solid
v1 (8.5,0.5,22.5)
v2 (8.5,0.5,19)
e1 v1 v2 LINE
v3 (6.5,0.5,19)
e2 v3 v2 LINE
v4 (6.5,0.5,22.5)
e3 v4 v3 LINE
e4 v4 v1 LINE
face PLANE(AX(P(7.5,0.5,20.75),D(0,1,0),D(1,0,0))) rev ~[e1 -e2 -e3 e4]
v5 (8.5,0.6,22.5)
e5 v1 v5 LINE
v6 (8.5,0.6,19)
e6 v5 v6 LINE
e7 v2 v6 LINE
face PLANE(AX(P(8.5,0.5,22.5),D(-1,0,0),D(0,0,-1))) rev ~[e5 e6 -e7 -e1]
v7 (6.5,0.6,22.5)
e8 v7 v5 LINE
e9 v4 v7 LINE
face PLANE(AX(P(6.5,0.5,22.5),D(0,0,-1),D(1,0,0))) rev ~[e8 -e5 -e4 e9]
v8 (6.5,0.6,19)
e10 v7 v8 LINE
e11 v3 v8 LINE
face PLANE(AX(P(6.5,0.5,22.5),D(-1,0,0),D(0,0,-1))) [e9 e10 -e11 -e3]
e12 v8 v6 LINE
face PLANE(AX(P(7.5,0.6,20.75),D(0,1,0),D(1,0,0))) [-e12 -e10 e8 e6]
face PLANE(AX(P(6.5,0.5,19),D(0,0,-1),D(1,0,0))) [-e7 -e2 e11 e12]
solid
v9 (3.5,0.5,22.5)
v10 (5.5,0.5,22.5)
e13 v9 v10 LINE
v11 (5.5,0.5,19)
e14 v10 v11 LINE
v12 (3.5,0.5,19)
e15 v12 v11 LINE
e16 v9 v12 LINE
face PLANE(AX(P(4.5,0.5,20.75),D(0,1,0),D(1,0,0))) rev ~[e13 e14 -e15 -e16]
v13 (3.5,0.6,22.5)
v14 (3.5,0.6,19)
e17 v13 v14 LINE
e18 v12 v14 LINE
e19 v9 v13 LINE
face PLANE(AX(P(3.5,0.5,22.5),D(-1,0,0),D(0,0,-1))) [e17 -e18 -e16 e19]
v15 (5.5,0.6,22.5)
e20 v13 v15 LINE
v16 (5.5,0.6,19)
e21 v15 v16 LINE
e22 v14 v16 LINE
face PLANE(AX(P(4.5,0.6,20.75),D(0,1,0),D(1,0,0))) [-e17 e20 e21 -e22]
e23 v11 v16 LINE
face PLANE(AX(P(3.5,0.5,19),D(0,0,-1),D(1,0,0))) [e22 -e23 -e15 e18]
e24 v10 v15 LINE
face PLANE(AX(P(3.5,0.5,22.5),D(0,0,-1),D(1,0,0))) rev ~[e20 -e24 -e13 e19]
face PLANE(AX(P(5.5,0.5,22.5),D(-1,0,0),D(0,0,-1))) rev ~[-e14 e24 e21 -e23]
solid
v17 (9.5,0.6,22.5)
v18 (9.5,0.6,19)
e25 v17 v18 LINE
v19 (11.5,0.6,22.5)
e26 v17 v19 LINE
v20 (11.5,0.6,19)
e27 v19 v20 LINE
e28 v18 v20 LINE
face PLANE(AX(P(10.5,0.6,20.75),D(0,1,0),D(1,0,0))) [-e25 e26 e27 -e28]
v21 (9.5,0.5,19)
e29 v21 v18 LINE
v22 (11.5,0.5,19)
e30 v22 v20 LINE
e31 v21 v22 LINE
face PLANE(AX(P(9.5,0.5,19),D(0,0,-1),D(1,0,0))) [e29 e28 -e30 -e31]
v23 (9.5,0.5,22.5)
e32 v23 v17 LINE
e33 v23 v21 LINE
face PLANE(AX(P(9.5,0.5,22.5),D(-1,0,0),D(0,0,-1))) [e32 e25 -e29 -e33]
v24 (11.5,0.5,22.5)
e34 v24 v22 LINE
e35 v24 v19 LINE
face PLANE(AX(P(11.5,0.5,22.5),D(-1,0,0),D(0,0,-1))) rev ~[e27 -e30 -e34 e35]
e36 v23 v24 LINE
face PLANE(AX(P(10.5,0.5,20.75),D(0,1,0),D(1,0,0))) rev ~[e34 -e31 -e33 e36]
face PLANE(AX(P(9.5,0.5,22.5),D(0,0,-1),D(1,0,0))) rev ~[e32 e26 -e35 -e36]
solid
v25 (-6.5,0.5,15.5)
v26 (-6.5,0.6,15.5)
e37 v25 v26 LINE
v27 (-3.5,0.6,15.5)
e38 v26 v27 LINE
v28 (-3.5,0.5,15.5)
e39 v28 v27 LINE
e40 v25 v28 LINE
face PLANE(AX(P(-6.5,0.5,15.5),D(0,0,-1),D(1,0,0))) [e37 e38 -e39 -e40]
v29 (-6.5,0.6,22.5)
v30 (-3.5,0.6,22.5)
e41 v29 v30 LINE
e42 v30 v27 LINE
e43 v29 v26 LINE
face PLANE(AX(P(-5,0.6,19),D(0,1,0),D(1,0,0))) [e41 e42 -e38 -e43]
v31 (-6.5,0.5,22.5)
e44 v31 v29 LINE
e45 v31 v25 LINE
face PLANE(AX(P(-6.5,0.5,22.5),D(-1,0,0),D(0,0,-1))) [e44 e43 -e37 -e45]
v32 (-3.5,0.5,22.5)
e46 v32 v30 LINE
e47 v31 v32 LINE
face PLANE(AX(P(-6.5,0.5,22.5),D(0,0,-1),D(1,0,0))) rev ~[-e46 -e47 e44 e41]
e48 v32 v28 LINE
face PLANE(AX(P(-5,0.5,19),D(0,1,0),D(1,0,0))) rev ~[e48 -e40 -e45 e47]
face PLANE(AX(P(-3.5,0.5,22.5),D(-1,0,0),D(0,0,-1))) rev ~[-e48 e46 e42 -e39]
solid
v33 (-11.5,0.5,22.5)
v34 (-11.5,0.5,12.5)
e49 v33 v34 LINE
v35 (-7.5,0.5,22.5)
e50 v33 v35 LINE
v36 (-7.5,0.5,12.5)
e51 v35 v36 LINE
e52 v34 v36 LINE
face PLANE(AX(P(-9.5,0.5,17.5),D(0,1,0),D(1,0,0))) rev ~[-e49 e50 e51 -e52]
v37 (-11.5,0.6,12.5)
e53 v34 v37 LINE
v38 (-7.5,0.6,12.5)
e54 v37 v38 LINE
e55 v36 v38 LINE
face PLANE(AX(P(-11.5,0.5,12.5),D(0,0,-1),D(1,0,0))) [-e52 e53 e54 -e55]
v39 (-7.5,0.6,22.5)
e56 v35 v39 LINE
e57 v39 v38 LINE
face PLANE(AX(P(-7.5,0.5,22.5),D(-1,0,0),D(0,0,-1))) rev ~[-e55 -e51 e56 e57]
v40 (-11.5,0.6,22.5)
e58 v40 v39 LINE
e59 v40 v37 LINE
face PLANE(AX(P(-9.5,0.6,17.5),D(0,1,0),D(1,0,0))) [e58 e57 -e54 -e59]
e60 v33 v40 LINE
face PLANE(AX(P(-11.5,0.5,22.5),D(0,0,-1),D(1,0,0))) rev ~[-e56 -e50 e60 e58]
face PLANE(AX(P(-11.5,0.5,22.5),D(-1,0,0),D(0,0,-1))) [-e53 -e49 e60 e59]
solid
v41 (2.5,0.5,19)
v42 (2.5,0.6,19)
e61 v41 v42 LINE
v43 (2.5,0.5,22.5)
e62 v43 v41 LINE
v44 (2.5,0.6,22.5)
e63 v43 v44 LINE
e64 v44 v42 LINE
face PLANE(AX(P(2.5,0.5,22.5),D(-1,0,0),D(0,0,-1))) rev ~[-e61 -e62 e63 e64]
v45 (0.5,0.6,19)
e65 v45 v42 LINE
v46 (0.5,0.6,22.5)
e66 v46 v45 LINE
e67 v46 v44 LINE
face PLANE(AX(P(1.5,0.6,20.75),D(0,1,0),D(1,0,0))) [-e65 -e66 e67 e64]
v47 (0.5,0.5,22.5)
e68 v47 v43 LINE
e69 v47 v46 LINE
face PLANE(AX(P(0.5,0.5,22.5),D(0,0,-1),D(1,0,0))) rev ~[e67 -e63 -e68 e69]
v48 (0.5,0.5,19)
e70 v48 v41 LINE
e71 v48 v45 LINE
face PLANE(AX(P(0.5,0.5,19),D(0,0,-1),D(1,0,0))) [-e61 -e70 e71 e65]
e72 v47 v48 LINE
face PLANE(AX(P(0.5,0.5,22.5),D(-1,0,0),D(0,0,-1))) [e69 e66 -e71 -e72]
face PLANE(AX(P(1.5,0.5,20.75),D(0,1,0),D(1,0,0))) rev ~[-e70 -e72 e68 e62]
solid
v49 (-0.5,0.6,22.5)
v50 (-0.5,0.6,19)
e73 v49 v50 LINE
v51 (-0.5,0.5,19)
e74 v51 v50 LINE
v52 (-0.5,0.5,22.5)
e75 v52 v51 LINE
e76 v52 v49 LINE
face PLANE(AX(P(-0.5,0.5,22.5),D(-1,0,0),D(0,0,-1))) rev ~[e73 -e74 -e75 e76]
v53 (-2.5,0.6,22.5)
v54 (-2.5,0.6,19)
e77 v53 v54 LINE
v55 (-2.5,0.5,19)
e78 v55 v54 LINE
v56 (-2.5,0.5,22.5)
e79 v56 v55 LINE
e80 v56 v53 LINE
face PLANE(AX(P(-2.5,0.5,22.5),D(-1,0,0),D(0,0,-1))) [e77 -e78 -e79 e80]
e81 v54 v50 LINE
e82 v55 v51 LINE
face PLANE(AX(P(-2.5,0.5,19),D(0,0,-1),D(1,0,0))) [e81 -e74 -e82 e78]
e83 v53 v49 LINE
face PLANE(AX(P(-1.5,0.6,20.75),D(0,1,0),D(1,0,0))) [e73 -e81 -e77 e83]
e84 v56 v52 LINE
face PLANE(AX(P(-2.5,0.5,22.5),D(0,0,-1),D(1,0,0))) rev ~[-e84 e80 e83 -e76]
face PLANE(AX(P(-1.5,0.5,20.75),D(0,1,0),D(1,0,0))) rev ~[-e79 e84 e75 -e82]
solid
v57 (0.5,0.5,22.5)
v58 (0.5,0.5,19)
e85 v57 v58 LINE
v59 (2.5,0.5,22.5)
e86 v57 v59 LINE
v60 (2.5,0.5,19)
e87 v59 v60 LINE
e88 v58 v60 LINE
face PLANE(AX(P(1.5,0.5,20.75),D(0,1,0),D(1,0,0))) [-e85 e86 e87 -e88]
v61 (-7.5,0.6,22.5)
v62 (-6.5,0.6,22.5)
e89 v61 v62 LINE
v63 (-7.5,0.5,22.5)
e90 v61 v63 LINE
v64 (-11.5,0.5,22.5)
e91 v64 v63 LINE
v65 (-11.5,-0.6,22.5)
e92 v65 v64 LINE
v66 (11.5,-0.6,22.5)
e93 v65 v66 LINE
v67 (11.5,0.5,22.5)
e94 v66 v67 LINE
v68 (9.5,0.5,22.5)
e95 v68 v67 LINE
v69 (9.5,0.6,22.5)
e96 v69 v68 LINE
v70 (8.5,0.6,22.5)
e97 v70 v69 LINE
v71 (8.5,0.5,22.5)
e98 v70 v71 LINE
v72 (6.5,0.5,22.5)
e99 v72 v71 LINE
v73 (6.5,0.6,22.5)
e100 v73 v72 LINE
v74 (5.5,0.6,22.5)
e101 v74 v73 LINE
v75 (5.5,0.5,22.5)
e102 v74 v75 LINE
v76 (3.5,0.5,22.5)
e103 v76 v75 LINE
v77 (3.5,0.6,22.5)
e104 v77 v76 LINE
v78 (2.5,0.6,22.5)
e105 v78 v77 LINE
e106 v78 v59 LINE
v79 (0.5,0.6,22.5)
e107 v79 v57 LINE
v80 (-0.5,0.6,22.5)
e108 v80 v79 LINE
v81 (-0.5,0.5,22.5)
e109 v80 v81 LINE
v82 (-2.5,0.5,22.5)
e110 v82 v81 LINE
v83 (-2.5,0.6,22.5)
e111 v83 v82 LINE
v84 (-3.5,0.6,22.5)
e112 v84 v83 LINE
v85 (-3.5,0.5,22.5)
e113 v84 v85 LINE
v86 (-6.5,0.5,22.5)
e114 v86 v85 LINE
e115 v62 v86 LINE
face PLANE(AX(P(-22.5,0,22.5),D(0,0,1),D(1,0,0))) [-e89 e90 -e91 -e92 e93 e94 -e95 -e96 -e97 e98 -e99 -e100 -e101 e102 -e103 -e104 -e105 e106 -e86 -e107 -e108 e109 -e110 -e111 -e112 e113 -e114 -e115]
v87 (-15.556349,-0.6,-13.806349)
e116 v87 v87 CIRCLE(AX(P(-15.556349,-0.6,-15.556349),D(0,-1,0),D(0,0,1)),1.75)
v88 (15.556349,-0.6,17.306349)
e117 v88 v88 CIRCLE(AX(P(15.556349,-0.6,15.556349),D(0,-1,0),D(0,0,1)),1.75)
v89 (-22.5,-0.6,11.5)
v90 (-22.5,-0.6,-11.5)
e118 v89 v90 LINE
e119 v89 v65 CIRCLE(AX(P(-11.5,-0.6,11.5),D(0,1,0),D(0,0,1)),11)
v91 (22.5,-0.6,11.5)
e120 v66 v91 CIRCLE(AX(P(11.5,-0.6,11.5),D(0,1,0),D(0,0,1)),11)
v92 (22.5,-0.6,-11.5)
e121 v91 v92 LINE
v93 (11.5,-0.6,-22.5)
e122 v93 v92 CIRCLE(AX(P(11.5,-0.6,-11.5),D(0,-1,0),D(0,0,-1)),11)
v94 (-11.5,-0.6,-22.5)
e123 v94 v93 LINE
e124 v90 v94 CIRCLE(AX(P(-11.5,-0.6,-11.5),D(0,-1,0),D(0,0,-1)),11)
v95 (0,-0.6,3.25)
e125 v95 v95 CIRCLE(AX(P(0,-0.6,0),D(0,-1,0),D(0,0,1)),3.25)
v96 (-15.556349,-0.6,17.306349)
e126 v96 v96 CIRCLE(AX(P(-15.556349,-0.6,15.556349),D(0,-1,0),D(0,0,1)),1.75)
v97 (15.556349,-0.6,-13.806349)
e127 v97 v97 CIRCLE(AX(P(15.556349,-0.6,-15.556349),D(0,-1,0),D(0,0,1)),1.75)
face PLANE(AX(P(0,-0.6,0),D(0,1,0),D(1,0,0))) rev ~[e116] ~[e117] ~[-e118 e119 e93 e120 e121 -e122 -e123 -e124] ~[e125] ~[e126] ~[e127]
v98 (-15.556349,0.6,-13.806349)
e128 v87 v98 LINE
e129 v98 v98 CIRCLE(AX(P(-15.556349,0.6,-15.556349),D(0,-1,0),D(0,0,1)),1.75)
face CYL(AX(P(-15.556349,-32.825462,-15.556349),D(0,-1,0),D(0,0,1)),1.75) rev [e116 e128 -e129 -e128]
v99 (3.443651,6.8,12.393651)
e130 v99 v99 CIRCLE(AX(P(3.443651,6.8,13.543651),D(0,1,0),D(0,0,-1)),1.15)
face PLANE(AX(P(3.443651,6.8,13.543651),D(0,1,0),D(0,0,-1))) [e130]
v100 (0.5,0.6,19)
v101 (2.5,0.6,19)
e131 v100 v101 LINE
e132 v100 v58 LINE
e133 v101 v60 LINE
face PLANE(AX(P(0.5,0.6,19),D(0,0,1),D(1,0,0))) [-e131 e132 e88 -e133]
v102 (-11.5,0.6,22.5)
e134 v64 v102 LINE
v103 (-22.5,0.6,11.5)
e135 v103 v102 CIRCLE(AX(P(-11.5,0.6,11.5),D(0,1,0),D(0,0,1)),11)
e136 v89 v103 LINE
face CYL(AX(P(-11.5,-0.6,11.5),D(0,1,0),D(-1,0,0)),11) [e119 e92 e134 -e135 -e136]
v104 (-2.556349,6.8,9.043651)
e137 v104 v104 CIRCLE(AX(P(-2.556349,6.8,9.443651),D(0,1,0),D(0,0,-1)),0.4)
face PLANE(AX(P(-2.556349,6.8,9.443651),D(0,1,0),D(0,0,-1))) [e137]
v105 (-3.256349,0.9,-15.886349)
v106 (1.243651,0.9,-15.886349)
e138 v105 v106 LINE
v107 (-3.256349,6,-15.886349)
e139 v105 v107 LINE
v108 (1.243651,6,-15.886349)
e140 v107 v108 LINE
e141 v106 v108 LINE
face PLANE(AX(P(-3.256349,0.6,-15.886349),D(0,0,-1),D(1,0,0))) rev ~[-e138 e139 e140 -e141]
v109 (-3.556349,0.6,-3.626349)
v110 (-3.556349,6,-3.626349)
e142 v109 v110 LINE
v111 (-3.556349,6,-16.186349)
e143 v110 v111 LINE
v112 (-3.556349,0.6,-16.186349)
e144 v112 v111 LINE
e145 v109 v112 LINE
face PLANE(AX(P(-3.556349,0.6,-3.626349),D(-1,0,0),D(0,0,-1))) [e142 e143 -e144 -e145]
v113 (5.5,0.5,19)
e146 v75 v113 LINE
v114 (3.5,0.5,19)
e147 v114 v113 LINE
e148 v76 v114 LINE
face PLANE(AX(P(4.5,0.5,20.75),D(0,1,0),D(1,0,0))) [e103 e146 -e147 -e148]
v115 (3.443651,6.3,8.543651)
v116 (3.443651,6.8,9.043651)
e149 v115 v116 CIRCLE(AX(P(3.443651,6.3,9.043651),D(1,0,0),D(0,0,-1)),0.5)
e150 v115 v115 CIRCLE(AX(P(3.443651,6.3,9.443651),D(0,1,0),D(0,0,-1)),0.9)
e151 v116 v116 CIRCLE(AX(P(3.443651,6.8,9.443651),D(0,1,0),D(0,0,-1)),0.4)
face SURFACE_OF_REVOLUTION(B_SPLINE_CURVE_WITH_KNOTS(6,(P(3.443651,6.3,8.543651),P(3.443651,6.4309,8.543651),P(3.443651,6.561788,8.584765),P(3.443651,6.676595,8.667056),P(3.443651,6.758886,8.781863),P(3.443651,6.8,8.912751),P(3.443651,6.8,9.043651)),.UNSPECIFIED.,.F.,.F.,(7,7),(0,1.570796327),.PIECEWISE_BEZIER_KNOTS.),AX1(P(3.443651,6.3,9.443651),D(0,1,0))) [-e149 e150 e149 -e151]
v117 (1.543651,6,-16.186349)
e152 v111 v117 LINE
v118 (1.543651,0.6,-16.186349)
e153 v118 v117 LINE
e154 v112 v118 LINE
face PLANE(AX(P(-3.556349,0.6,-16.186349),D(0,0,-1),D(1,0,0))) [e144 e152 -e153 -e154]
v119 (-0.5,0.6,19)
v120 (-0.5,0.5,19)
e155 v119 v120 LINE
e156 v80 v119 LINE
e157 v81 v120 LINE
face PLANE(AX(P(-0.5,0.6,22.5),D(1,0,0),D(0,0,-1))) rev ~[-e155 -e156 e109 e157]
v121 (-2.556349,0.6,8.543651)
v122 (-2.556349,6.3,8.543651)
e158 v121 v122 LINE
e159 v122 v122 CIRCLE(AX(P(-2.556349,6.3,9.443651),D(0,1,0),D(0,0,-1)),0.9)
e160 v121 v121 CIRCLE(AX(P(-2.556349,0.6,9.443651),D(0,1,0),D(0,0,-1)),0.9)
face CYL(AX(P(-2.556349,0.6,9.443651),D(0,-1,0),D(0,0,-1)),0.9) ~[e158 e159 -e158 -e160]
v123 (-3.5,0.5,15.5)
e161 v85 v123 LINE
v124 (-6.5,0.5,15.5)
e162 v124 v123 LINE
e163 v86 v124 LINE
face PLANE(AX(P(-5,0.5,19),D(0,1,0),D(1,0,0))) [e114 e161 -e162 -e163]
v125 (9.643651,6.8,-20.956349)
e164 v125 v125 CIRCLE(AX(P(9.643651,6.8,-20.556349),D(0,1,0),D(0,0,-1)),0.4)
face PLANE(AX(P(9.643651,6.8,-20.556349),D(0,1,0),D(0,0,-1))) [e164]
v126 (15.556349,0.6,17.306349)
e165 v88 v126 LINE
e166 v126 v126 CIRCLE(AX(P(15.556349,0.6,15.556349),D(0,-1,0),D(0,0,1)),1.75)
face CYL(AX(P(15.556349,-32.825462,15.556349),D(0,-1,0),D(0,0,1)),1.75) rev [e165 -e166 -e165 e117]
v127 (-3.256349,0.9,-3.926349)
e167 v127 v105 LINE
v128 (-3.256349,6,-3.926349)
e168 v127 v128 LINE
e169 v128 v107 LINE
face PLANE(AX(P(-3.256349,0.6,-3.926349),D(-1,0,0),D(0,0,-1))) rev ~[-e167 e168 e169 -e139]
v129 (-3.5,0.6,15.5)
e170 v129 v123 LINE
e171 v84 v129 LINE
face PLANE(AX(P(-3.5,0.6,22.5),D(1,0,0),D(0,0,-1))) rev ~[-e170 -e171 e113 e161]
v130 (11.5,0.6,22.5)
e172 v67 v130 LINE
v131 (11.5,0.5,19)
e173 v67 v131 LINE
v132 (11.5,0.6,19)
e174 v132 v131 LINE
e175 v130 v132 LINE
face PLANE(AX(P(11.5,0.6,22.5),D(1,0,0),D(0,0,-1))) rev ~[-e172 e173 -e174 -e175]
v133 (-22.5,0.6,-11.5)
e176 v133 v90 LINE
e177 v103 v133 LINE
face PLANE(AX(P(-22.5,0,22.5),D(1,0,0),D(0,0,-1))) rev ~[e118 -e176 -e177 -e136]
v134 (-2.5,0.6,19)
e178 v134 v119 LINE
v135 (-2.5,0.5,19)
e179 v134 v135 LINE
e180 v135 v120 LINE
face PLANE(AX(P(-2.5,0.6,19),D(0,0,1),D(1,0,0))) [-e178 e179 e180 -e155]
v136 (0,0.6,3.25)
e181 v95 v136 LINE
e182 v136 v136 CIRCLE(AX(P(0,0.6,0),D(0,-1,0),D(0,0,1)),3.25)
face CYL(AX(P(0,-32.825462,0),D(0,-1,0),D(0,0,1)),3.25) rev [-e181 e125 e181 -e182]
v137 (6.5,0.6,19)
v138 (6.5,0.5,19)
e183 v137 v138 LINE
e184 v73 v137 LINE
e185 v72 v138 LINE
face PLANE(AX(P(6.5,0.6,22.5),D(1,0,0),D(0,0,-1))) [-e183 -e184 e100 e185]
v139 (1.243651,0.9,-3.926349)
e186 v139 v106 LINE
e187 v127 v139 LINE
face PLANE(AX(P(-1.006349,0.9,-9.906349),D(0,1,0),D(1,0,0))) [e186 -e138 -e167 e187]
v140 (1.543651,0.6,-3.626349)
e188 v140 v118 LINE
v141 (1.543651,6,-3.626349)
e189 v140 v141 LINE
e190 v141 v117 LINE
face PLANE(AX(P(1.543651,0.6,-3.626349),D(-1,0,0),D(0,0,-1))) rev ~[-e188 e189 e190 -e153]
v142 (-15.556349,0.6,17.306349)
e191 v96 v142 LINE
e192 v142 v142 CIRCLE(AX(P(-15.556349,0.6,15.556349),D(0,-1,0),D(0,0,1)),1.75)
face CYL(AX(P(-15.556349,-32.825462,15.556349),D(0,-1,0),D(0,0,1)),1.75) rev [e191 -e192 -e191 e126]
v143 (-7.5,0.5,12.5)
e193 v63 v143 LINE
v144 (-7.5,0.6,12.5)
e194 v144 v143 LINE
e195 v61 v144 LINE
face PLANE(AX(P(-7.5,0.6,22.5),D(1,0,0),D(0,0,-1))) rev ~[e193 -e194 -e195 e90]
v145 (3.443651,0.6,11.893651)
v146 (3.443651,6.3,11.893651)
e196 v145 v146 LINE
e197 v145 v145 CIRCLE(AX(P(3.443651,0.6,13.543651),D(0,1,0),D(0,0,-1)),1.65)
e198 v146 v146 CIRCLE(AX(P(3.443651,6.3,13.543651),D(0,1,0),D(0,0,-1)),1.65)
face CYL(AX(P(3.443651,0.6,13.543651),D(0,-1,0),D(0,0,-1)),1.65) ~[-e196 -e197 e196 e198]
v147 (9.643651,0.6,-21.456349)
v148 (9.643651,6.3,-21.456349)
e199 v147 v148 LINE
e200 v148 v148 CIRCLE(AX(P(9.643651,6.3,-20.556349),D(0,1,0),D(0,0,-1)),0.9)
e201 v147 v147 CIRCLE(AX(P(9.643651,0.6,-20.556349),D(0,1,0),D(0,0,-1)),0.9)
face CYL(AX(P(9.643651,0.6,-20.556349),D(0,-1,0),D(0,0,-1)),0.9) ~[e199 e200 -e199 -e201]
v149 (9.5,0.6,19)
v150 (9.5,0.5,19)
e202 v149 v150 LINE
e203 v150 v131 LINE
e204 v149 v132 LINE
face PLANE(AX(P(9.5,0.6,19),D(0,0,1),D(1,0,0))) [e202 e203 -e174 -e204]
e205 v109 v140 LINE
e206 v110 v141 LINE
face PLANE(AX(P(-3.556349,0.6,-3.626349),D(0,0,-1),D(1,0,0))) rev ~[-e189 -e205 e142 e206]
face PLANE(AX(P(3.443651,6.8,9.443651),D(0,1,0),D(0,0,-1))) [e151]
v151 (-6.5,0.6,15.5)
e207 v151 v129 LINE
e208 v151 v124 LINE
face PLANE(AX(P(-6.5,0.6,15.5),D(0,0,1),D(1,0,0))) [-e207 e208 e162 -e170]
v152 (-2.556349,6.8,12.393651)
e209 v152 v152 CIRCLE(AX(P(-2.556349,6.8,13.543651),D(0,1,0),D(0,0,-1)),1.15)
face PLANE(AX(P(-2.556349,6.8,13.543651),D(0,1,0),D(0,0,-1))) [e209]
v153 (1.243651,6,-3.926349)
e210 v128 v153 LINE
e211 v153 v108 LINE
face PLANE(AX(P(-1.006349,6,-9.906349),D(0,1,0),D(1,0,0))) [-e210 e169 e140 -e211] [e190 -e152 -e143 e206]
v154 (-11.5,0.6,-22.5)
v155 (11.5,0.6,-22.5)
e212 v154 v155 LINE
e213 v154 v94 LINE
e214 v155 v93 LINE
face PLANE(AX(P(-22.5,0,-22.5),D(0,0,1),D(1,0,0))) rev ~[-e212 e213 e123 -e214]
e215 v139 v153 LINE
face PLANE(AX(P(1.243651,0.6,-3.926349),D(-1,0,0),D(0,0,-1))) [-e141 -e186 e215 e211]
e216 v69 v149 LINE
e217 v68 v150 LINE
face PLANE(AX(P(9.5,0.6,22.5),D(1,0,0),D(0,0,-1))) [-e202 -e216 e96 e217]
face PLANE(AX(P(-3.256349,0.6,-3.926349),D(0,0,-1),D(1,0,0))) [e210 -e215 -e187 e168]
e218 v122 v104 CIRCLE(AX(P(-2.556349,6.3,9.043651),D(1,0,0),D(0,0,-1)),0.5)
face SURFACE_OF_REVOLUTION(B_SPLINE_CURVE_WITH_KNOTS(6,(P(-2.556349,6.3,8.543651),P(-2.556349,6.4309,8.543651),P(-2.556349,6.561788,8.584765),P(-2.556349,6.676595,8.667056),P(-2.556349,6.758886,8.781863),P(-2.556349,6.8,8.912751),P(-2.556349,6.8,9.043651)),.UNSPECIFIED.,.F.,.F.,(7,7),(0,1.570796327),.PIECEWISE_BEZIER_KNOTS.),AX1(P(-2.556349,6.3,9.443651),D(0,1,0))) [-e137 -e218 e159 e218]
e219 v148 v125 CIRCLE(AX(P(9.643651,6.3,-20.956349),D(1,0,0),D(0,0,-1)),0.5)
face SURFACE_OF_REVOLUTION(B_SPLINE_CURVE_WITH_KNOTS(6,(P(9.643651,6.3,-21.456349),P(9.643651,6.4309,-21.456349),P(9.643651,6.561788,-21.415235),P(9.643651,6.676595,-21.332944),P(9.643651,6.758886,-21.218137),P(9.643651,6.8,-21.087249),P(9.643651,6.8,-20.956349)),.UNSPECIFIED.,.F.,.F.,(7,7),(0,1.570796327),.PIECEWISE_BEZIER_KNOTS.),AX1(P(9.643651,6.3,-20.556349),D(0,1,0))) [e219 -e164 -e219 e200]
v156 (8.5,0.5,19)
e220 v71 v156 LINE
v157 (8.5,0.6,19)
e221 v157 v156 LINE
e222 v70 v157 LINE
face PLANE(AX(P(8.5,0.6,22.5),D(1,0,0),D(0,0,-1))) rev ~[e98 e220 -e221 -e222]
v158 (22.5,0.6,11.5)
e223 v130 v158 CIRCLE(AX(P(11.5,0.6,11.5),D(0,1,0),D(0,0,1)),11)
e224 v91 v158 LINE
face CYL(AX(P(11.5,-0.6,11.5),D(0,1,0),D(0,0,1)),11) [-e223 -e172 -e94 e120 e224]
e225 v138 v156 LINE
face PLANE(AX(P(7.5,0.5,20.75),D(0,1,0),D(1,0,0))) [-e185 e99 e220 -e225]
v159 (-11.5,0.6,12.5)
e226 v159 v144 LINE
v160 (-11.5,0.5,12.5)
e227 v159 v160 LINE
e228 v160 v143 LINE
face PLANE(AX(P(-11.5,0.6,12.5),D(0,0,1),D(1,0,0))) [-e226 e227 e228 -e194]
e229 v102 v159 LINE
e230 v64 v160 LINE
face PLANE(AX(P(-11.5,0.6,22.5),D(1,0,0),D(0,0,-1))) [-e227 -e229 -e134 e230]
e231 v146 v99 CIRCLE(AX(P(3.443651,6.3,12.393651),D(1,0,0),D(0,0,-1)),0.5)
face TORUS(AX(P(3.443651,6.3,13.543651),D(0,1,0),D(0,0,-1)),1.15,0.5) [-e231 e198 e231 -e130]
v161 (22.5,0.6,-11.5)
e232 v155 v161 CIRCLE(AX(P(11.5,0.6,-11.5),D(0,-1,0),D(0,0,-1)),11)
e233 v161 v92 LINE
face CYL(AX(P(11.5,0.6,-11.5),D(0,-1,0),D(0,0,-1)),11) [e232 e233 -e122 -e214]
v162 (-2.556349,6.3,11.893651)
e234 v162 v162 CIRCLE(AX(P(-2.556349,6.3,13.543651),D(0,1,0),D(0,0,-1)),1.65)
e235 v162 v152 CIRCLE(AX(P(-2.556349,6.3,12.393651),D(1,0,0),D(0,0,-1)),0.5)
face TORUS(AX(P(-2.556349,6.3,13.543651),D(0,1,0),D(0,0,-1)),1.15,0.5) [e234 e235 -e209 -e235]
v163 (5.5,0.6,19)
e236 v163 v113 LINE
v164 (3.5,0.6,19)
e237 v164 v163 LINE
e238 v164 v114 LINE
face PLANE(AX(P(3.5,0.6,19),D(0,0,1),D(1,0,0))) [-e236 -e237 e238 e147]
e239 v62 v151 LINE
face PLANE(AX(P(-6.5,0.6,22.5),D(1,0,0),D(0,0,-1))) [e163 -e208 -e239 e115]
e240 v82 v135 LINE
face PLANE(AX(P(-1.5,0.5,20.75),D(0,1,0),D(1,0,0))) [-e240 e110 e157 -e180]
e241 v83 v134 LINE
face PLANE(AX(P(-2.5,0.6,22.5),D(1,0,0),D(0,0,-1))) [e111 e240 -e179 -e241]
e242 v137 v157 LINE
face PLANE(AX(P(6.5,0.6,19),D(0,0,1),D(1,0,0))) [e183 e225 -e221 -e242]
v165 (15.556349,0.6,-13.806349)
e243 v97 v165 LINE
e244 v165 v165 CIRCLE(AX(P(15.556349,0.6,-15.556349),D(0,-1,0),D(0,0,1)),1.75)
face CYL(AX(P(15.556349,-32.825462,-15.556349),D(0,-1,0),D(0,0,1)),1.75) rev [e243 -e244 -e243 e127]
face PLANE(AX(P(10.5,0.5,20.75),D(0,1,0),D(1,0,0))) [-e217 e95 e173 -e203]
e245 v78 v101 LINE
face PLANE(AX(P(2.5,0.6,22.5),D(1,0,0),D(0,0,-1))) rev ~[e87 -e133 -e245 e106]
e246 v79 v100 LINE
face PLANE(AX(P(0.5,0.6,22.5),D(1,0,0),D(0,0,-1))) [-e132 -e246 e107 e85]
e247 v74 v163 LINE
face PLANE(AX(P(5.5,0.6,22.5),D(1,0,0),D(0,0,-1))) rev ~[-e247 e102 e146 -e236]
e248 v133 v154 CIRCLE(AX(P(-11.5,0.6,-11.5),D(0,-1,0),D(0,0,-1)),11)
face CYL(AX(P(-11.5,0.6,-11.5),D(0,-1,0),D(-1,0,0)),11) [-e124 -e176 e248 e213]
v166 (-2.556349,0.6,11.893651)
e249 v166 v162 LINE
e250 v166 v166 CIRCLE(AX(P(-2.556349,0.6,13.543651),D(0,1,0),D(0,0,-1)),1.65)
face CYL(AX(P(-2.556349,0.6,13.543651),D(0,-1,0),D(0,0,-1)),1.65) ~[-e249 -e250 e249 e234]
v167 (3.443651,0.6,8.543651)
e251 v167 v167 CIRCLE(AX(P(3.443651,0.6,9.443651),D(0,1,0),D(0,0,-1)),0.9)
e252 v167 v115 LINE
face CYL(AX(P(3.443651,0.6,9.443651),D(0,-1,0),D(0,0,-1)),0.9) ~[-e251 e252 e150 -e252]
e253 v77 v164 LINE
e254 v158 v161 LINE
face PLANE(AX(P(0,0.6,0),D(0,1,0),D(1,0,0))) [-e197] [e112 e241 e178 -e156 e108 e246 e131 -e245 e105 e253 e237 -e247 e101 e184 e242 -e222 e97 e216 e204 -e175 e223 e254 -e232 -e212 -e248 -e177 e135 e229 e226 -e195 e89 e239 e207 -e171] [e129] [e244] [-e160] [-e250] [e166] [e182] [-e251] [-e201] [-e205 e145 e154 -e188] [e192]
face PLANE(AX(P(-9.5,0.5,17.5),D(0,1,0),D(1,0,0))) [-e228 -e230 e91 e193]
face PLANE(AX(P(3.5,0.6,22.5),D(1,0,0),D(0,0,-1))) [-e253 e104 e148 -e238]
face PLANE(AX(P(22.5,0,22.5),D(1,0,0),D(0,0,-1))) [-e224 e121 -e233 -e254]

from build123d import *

# Parameters (mm, degrees)
SKETCH1_W               = 45
SKETCH1_H               = 45
BOSS_EXTRUDE1_DEPTH     = 0.6
CUT_EXTRUDE1_DEPTH      = 32.825461505
CUT_EXTRUDE1_DEPTH_BACK = 32.825461505
SKETCH3_R               = 3.25
FILLET1_R               = 11
CUT_EXTRUDE2_DEPTH      = 32.825461505
CUT_EXTRUDE2_DEPTH_BACK = 32.825461505
SKETCH5_R               = 1.75
SKETCH6_W               = 5.1
SKETCH6_H               = 12.56
SKETCH6_W_2             = 4.5
SKETCH6_H_2             = 11.96
EXTRUDE_THIN1_DEPTH     = 5.4
SKETCH7_W               = 4.5
SKETCH7_H               = 11.96
BOSS_EXTRUDE2_DEPTH     = 0.3
SKETCH8_W               = 2
SKETCH8_H               = 3.5
SKETCH8_W_2             = 4
SKETCH8_H_2             = 10
SKETCH8_W_3             = 3
SKETCH8_H_3             = 7
CUT_EXTRUDE3_DEPTH      = 0.1
SKETCH9_W               = 2
SKETCH9_H               = 3.5
BOSS_EXTRUDE3_DEPTH     = 0.1
BOSS_EXTRUDE3_2_DEPTH   = 0.1
BOSS_EXTRUDE3_3_DEPTH   = 0.1
BOSS_EXTRUDE3_4_DEPTH   = 0.1
BOSS_EXTRUDE3_5_DEPTH   = 0.1
SKETCH9_W_2             = 3
SKETCH9_H_2             = 7
BOSS_EXTRUDE3_6_DEPTH   = 0.1
SKETCH9_W_3             = 4
SKETCH9_H_3             = 10
BOSS_EXTRUDE3_7_DEPTH   = 0.1
SKETCH10_R              = 0.9
SKETCH10_R_2            = 1.65
BOSS_EXTRUDE4_DEPTH     = 6.2
FILLET2_R               = 0.5


with BuildPart() as part:
    # Sketch1 → Boss-Extrude1 (new, symmetric)
    with BuildSketch(Plane(origin=(0, 0, 0), x_dir=(1, 0, 0), z_dir=(0, 1, 0))):
        Rectangle(SKETCH1_W, SKETCH1_H)
    extrude(amount=BOSS_EXTRUDE1_DEPTH, both=True)

    # Sketch3 → Cut-Extrude1 (cut, two sides: drawn at the far end of the back side and taken through both)
    with BuildSketch(Plane(origin=(0, 0, 0), x_dir=(1, 0, 0), z_dir=(0, 1, 0)).offset(-CUT_EXTRUDE1_DEPTH_BACK)):
        with Locations(Location((0, 0, 0), (0, 0, 270))):
            Circle(SKETCH3_R)
    extrude(amount=CUT_EXTRUDE1_DEPTH + CUT_EXTRUDE1_DEPTH_BACK, mode=Mode.SUBTRACT)

    # Fillet1
    fillet1_edges = [part.edges().sort_by_distance(p)[0] for p in [
        (22.5, 0, 22.5),
        (-22.5, 0, 22.5),
        (-22.5, 0, -22.5),
        (22.5, 0, -22.5),
    ]]
    fillet(fillet1_edges, radius=FILLET1_R)

    # Sketch5 → Cut-Extrude2 (cut, two sides: drawn at the far end of the back side and taken through both)
    with BuildSketch(Plane(origin=(0, 0, 0), x_dir=(1, 0, 0), z_dir=(0, 1, 0)).offset(-CUT_EXTRUDE2_DEPTH_BACK)):
        with Locations(Location((-15.556349186, 15.556349186, 0), (0, 0, 270))):
            Circle(SKETCH5_R)
        with Locations(Location((15.556349186, 15.556349186, 0), (0, 0, 270))):
            Circle(SKETCH5_R)
        with Locations(Location((15.556349186, -15.556349186, 0), (0, 0, 270))):
            Circle(SKETCH5_R)
        with Locations(Location((-15.556349186, -15.556349186, 0), (0, 0, 270))):
            Circle(SKETCH5_R)
    extrude(amount=CUT_EXTRUDE2_DEPTH + CUT_EXTRUDE2_DEPTH_BACK, mode=Mode.SUBTRACT)

    # Sketch6 → Extrude-Thin1 (add)
    with BuildSketch(Plane(origin=(0, 0.6, 0), x_dir=(1, 0, 0), z_dir=(0, 1, 0))):
        with Locations((-1.006349186, 9.906349186)):
            Rectangle(SKETCH6_W, SKETCH6_H)
        with Locations((-1.006349186, 9.906349186)):
            Rectangle(SKETCH6_W_2, SKETCH6_H_2, mode=Mode.SUBTRACT)
    extrude(amount=EXTRUDE_THIN1_DEPTH)

    # Sketch7 → Boss-Extrude2 (add)
    with BuildSketch(Plane(origin=(0, 0.6, 0), x_dir=(1, 0, 0), z_dir=(0, 1, 0))):
        with Locations((-1.006349186, 9.906349186)):
            Rectangle(SKETCH7_W, SKETCH7_H)
    extrude(amount=BOSS_EXTRUDE2_DEPTH)

    # Sketch8 → Cut-Extrude3 (cut)
    with BuildSketch(Plane(origin=(0, 0.6, 0), x_dir=(1, 0, 0), z_dir=(0, 1, 0))):
        with Locations((-1.5, -20.75)):
            Rectangle(SKETCH8_W, SKETCH8_H)
        with Locations((1.5, -20.75)):
            Rectangle(SKETCH8_W, SKETCH8_H)
        with Locations((4.5, -20.75)):
            Rectangle(SKETCH8_W, SKETCH8_H)
        with Locations((7.5, -20.75)):
            Rectangle(SKETCH8_W, SKETCH8_H)
        with Locations((10.5, -20.75)):
            Rectangle(SKETCH8_W, SKETCH8_H)
        with Locations((-9.5, -17.5)):
            Rectangle(SKETCH8_W_2, SKETCH8_H_2)
        with Locations((-5, -19)):
            Rectangle(SKETCH8_W_3, SKETCH8_H_3)
    extrude(amount=-CUT_EXTRUDE3_DEPTH, mode=Mode.SUBTRACT)

    # Sketch10 → Boss-Extrude4 (add)
    with BuildSketch(Plane(origin=(0, 0.6, 0), x_dir=(1, 0, 0), z_dir=(0, 1, 0))):
        with Locations(Location((3.443650814, -9.443650814, 0), (0, 0, 90))):
            Circle(SKETCH10_R)
        with Locations(Location((3.443650814, -13.543650814, 0), (0, 0, 90))):
            Circle(SKETCH10_R_2)
        with Locations(Location((-2.556349186, -13.543650814, 0), (0, 0, 90))):
            Circle(SKETCH10_R_2)
        with Locations(Location((-2.556349186, -9.443650814, 0), (0, 0, 90))):
            Circle(SKETCH10_R)
        with Locations(Location((9.643650814, 20.556349186, 0), (0, 0, 90))):
            Circle(SKETCH10_R)
    extrude(amount=BOSS_EXTRUDE4_DEPTH)

    # Fillet2
    fillet2_edges = [part.edges().sort_by_distance(p)[0] for p in [
        (3.443650814, 6.8, 10.343650814),
        (3.443650814, 6.8, 15.193650814),
        (-2.556349186, 6.8, 15.193650814),
        (-2.556349186, 6.8, 10.343650814),
        (9.643650814, 6.8, -19.656349186),
    ]]
    fillet(fillet2_edges, radius=FILLET2_R)


with BuildPart() as body_2:
    # Sketch9 → Boss-Extrude3 (new body)
    with BuildSketch(Plane(origin=(0, 0.5, 0), x_dir=(1, 0, 0), z_dir=(0, 1, 0))):
        with Locations((10.5, -20.75)):
            Rectangle(SKETCH9_W, SKETCH9_H)
    extrude(amount=BOSS_EXTRUDE3_DEPTH)


with BuildPart() as body_3:
    # Sketch9 → Boss-Extrude3 2 (new body)
    with BuildSketch(Plane(origin=(0, 0.5, 0), x_dir=(1, 0, 0), z_dir=(0, 1, 0))):
        with Locations((7.5, -20.75)):
            Rectangle(SKETCH9_W, SKETCH9_H)
    extrude(amount=BOSS_EXTRUDE3_2_DEPTH)


with BuildPart() as body_4:
    # Sketch9 → Boss-Extrude3 3 (new body)
    with BuildSketch(Plane(origin=(0, 0.5, 0), x_dir=(1, 0, 0), z_dir=(0, 1, 0))):
        with Locations((4.5, -20.75)):
            Rectangle(SKETCH9_W, SKETCH9_H)
    extrude(amount=BOSS_EXTRUDE3_3_DEPTH)


with BuildPart() as body_5:
    # Sketch9 → Boss-Extrude3 4 (new body)
    with BuildSketch(Plane(origin=(0, 0.5, 0), x_dir=(1, 0, 0), z_dir=(0, 1, 0))):
        with Locations((1.5, -20.75)):
            Rectangle(SKETCH9_W, SKETCH9_H)
    extrude(amount=BOSS_EXTRUDE3_4_DEPTH)


with BuildPart() as body_6:
    # Sketch9 → Boss-Extrude3 5 (new body)
    with BuildSketch(Plane(origin=(0, 0.5, 0), x_dir=(1, 0, 0), z_dir=(0, 1, 0))):
        with Locations((-1.5, -20.75)):
            Rectangle(SKETCH9_W, SKETCH9_H)
    extrude(amount=BOSS_EXTRUDE3_5_DEPTH)


with BuildPart() as body_7:
    # Sketch9 → Boss-Extrude3 6 (new body)
    with BuildSketch(Plane(origin=(0, 0.5, 0), x_dir=(1, 0, 0), z_dir=(0, 1, 0))):
        with Locations((-5, -19)):
            Rectangle(SKETCH9_W_2, SKETCH9_H_2)
    extrude(amount=BOSS_EXTRUDE3_6_DEPTH)


with BuildPart() as body_8:
    # Sketch9 → Boss-Extrude3 7 (new body)
    with BuildSketch(Plane(origin=(0, 0.5, 0), x_dir=(1, 0, 0), z_dir=(0, 1, 0))):
        with Locations((-9.5, -17.5)):
            Rectangle(SKETCH9_W_3, SKETCH9_H_3)
    extrude(amount=BOSS_EXTRUDE3_7_DEPTH)


solid = Compound([part.part, body_2.part, body_3.part, body_4.part, body_5.part, body_6.part, body_7.part, body_8.part])
